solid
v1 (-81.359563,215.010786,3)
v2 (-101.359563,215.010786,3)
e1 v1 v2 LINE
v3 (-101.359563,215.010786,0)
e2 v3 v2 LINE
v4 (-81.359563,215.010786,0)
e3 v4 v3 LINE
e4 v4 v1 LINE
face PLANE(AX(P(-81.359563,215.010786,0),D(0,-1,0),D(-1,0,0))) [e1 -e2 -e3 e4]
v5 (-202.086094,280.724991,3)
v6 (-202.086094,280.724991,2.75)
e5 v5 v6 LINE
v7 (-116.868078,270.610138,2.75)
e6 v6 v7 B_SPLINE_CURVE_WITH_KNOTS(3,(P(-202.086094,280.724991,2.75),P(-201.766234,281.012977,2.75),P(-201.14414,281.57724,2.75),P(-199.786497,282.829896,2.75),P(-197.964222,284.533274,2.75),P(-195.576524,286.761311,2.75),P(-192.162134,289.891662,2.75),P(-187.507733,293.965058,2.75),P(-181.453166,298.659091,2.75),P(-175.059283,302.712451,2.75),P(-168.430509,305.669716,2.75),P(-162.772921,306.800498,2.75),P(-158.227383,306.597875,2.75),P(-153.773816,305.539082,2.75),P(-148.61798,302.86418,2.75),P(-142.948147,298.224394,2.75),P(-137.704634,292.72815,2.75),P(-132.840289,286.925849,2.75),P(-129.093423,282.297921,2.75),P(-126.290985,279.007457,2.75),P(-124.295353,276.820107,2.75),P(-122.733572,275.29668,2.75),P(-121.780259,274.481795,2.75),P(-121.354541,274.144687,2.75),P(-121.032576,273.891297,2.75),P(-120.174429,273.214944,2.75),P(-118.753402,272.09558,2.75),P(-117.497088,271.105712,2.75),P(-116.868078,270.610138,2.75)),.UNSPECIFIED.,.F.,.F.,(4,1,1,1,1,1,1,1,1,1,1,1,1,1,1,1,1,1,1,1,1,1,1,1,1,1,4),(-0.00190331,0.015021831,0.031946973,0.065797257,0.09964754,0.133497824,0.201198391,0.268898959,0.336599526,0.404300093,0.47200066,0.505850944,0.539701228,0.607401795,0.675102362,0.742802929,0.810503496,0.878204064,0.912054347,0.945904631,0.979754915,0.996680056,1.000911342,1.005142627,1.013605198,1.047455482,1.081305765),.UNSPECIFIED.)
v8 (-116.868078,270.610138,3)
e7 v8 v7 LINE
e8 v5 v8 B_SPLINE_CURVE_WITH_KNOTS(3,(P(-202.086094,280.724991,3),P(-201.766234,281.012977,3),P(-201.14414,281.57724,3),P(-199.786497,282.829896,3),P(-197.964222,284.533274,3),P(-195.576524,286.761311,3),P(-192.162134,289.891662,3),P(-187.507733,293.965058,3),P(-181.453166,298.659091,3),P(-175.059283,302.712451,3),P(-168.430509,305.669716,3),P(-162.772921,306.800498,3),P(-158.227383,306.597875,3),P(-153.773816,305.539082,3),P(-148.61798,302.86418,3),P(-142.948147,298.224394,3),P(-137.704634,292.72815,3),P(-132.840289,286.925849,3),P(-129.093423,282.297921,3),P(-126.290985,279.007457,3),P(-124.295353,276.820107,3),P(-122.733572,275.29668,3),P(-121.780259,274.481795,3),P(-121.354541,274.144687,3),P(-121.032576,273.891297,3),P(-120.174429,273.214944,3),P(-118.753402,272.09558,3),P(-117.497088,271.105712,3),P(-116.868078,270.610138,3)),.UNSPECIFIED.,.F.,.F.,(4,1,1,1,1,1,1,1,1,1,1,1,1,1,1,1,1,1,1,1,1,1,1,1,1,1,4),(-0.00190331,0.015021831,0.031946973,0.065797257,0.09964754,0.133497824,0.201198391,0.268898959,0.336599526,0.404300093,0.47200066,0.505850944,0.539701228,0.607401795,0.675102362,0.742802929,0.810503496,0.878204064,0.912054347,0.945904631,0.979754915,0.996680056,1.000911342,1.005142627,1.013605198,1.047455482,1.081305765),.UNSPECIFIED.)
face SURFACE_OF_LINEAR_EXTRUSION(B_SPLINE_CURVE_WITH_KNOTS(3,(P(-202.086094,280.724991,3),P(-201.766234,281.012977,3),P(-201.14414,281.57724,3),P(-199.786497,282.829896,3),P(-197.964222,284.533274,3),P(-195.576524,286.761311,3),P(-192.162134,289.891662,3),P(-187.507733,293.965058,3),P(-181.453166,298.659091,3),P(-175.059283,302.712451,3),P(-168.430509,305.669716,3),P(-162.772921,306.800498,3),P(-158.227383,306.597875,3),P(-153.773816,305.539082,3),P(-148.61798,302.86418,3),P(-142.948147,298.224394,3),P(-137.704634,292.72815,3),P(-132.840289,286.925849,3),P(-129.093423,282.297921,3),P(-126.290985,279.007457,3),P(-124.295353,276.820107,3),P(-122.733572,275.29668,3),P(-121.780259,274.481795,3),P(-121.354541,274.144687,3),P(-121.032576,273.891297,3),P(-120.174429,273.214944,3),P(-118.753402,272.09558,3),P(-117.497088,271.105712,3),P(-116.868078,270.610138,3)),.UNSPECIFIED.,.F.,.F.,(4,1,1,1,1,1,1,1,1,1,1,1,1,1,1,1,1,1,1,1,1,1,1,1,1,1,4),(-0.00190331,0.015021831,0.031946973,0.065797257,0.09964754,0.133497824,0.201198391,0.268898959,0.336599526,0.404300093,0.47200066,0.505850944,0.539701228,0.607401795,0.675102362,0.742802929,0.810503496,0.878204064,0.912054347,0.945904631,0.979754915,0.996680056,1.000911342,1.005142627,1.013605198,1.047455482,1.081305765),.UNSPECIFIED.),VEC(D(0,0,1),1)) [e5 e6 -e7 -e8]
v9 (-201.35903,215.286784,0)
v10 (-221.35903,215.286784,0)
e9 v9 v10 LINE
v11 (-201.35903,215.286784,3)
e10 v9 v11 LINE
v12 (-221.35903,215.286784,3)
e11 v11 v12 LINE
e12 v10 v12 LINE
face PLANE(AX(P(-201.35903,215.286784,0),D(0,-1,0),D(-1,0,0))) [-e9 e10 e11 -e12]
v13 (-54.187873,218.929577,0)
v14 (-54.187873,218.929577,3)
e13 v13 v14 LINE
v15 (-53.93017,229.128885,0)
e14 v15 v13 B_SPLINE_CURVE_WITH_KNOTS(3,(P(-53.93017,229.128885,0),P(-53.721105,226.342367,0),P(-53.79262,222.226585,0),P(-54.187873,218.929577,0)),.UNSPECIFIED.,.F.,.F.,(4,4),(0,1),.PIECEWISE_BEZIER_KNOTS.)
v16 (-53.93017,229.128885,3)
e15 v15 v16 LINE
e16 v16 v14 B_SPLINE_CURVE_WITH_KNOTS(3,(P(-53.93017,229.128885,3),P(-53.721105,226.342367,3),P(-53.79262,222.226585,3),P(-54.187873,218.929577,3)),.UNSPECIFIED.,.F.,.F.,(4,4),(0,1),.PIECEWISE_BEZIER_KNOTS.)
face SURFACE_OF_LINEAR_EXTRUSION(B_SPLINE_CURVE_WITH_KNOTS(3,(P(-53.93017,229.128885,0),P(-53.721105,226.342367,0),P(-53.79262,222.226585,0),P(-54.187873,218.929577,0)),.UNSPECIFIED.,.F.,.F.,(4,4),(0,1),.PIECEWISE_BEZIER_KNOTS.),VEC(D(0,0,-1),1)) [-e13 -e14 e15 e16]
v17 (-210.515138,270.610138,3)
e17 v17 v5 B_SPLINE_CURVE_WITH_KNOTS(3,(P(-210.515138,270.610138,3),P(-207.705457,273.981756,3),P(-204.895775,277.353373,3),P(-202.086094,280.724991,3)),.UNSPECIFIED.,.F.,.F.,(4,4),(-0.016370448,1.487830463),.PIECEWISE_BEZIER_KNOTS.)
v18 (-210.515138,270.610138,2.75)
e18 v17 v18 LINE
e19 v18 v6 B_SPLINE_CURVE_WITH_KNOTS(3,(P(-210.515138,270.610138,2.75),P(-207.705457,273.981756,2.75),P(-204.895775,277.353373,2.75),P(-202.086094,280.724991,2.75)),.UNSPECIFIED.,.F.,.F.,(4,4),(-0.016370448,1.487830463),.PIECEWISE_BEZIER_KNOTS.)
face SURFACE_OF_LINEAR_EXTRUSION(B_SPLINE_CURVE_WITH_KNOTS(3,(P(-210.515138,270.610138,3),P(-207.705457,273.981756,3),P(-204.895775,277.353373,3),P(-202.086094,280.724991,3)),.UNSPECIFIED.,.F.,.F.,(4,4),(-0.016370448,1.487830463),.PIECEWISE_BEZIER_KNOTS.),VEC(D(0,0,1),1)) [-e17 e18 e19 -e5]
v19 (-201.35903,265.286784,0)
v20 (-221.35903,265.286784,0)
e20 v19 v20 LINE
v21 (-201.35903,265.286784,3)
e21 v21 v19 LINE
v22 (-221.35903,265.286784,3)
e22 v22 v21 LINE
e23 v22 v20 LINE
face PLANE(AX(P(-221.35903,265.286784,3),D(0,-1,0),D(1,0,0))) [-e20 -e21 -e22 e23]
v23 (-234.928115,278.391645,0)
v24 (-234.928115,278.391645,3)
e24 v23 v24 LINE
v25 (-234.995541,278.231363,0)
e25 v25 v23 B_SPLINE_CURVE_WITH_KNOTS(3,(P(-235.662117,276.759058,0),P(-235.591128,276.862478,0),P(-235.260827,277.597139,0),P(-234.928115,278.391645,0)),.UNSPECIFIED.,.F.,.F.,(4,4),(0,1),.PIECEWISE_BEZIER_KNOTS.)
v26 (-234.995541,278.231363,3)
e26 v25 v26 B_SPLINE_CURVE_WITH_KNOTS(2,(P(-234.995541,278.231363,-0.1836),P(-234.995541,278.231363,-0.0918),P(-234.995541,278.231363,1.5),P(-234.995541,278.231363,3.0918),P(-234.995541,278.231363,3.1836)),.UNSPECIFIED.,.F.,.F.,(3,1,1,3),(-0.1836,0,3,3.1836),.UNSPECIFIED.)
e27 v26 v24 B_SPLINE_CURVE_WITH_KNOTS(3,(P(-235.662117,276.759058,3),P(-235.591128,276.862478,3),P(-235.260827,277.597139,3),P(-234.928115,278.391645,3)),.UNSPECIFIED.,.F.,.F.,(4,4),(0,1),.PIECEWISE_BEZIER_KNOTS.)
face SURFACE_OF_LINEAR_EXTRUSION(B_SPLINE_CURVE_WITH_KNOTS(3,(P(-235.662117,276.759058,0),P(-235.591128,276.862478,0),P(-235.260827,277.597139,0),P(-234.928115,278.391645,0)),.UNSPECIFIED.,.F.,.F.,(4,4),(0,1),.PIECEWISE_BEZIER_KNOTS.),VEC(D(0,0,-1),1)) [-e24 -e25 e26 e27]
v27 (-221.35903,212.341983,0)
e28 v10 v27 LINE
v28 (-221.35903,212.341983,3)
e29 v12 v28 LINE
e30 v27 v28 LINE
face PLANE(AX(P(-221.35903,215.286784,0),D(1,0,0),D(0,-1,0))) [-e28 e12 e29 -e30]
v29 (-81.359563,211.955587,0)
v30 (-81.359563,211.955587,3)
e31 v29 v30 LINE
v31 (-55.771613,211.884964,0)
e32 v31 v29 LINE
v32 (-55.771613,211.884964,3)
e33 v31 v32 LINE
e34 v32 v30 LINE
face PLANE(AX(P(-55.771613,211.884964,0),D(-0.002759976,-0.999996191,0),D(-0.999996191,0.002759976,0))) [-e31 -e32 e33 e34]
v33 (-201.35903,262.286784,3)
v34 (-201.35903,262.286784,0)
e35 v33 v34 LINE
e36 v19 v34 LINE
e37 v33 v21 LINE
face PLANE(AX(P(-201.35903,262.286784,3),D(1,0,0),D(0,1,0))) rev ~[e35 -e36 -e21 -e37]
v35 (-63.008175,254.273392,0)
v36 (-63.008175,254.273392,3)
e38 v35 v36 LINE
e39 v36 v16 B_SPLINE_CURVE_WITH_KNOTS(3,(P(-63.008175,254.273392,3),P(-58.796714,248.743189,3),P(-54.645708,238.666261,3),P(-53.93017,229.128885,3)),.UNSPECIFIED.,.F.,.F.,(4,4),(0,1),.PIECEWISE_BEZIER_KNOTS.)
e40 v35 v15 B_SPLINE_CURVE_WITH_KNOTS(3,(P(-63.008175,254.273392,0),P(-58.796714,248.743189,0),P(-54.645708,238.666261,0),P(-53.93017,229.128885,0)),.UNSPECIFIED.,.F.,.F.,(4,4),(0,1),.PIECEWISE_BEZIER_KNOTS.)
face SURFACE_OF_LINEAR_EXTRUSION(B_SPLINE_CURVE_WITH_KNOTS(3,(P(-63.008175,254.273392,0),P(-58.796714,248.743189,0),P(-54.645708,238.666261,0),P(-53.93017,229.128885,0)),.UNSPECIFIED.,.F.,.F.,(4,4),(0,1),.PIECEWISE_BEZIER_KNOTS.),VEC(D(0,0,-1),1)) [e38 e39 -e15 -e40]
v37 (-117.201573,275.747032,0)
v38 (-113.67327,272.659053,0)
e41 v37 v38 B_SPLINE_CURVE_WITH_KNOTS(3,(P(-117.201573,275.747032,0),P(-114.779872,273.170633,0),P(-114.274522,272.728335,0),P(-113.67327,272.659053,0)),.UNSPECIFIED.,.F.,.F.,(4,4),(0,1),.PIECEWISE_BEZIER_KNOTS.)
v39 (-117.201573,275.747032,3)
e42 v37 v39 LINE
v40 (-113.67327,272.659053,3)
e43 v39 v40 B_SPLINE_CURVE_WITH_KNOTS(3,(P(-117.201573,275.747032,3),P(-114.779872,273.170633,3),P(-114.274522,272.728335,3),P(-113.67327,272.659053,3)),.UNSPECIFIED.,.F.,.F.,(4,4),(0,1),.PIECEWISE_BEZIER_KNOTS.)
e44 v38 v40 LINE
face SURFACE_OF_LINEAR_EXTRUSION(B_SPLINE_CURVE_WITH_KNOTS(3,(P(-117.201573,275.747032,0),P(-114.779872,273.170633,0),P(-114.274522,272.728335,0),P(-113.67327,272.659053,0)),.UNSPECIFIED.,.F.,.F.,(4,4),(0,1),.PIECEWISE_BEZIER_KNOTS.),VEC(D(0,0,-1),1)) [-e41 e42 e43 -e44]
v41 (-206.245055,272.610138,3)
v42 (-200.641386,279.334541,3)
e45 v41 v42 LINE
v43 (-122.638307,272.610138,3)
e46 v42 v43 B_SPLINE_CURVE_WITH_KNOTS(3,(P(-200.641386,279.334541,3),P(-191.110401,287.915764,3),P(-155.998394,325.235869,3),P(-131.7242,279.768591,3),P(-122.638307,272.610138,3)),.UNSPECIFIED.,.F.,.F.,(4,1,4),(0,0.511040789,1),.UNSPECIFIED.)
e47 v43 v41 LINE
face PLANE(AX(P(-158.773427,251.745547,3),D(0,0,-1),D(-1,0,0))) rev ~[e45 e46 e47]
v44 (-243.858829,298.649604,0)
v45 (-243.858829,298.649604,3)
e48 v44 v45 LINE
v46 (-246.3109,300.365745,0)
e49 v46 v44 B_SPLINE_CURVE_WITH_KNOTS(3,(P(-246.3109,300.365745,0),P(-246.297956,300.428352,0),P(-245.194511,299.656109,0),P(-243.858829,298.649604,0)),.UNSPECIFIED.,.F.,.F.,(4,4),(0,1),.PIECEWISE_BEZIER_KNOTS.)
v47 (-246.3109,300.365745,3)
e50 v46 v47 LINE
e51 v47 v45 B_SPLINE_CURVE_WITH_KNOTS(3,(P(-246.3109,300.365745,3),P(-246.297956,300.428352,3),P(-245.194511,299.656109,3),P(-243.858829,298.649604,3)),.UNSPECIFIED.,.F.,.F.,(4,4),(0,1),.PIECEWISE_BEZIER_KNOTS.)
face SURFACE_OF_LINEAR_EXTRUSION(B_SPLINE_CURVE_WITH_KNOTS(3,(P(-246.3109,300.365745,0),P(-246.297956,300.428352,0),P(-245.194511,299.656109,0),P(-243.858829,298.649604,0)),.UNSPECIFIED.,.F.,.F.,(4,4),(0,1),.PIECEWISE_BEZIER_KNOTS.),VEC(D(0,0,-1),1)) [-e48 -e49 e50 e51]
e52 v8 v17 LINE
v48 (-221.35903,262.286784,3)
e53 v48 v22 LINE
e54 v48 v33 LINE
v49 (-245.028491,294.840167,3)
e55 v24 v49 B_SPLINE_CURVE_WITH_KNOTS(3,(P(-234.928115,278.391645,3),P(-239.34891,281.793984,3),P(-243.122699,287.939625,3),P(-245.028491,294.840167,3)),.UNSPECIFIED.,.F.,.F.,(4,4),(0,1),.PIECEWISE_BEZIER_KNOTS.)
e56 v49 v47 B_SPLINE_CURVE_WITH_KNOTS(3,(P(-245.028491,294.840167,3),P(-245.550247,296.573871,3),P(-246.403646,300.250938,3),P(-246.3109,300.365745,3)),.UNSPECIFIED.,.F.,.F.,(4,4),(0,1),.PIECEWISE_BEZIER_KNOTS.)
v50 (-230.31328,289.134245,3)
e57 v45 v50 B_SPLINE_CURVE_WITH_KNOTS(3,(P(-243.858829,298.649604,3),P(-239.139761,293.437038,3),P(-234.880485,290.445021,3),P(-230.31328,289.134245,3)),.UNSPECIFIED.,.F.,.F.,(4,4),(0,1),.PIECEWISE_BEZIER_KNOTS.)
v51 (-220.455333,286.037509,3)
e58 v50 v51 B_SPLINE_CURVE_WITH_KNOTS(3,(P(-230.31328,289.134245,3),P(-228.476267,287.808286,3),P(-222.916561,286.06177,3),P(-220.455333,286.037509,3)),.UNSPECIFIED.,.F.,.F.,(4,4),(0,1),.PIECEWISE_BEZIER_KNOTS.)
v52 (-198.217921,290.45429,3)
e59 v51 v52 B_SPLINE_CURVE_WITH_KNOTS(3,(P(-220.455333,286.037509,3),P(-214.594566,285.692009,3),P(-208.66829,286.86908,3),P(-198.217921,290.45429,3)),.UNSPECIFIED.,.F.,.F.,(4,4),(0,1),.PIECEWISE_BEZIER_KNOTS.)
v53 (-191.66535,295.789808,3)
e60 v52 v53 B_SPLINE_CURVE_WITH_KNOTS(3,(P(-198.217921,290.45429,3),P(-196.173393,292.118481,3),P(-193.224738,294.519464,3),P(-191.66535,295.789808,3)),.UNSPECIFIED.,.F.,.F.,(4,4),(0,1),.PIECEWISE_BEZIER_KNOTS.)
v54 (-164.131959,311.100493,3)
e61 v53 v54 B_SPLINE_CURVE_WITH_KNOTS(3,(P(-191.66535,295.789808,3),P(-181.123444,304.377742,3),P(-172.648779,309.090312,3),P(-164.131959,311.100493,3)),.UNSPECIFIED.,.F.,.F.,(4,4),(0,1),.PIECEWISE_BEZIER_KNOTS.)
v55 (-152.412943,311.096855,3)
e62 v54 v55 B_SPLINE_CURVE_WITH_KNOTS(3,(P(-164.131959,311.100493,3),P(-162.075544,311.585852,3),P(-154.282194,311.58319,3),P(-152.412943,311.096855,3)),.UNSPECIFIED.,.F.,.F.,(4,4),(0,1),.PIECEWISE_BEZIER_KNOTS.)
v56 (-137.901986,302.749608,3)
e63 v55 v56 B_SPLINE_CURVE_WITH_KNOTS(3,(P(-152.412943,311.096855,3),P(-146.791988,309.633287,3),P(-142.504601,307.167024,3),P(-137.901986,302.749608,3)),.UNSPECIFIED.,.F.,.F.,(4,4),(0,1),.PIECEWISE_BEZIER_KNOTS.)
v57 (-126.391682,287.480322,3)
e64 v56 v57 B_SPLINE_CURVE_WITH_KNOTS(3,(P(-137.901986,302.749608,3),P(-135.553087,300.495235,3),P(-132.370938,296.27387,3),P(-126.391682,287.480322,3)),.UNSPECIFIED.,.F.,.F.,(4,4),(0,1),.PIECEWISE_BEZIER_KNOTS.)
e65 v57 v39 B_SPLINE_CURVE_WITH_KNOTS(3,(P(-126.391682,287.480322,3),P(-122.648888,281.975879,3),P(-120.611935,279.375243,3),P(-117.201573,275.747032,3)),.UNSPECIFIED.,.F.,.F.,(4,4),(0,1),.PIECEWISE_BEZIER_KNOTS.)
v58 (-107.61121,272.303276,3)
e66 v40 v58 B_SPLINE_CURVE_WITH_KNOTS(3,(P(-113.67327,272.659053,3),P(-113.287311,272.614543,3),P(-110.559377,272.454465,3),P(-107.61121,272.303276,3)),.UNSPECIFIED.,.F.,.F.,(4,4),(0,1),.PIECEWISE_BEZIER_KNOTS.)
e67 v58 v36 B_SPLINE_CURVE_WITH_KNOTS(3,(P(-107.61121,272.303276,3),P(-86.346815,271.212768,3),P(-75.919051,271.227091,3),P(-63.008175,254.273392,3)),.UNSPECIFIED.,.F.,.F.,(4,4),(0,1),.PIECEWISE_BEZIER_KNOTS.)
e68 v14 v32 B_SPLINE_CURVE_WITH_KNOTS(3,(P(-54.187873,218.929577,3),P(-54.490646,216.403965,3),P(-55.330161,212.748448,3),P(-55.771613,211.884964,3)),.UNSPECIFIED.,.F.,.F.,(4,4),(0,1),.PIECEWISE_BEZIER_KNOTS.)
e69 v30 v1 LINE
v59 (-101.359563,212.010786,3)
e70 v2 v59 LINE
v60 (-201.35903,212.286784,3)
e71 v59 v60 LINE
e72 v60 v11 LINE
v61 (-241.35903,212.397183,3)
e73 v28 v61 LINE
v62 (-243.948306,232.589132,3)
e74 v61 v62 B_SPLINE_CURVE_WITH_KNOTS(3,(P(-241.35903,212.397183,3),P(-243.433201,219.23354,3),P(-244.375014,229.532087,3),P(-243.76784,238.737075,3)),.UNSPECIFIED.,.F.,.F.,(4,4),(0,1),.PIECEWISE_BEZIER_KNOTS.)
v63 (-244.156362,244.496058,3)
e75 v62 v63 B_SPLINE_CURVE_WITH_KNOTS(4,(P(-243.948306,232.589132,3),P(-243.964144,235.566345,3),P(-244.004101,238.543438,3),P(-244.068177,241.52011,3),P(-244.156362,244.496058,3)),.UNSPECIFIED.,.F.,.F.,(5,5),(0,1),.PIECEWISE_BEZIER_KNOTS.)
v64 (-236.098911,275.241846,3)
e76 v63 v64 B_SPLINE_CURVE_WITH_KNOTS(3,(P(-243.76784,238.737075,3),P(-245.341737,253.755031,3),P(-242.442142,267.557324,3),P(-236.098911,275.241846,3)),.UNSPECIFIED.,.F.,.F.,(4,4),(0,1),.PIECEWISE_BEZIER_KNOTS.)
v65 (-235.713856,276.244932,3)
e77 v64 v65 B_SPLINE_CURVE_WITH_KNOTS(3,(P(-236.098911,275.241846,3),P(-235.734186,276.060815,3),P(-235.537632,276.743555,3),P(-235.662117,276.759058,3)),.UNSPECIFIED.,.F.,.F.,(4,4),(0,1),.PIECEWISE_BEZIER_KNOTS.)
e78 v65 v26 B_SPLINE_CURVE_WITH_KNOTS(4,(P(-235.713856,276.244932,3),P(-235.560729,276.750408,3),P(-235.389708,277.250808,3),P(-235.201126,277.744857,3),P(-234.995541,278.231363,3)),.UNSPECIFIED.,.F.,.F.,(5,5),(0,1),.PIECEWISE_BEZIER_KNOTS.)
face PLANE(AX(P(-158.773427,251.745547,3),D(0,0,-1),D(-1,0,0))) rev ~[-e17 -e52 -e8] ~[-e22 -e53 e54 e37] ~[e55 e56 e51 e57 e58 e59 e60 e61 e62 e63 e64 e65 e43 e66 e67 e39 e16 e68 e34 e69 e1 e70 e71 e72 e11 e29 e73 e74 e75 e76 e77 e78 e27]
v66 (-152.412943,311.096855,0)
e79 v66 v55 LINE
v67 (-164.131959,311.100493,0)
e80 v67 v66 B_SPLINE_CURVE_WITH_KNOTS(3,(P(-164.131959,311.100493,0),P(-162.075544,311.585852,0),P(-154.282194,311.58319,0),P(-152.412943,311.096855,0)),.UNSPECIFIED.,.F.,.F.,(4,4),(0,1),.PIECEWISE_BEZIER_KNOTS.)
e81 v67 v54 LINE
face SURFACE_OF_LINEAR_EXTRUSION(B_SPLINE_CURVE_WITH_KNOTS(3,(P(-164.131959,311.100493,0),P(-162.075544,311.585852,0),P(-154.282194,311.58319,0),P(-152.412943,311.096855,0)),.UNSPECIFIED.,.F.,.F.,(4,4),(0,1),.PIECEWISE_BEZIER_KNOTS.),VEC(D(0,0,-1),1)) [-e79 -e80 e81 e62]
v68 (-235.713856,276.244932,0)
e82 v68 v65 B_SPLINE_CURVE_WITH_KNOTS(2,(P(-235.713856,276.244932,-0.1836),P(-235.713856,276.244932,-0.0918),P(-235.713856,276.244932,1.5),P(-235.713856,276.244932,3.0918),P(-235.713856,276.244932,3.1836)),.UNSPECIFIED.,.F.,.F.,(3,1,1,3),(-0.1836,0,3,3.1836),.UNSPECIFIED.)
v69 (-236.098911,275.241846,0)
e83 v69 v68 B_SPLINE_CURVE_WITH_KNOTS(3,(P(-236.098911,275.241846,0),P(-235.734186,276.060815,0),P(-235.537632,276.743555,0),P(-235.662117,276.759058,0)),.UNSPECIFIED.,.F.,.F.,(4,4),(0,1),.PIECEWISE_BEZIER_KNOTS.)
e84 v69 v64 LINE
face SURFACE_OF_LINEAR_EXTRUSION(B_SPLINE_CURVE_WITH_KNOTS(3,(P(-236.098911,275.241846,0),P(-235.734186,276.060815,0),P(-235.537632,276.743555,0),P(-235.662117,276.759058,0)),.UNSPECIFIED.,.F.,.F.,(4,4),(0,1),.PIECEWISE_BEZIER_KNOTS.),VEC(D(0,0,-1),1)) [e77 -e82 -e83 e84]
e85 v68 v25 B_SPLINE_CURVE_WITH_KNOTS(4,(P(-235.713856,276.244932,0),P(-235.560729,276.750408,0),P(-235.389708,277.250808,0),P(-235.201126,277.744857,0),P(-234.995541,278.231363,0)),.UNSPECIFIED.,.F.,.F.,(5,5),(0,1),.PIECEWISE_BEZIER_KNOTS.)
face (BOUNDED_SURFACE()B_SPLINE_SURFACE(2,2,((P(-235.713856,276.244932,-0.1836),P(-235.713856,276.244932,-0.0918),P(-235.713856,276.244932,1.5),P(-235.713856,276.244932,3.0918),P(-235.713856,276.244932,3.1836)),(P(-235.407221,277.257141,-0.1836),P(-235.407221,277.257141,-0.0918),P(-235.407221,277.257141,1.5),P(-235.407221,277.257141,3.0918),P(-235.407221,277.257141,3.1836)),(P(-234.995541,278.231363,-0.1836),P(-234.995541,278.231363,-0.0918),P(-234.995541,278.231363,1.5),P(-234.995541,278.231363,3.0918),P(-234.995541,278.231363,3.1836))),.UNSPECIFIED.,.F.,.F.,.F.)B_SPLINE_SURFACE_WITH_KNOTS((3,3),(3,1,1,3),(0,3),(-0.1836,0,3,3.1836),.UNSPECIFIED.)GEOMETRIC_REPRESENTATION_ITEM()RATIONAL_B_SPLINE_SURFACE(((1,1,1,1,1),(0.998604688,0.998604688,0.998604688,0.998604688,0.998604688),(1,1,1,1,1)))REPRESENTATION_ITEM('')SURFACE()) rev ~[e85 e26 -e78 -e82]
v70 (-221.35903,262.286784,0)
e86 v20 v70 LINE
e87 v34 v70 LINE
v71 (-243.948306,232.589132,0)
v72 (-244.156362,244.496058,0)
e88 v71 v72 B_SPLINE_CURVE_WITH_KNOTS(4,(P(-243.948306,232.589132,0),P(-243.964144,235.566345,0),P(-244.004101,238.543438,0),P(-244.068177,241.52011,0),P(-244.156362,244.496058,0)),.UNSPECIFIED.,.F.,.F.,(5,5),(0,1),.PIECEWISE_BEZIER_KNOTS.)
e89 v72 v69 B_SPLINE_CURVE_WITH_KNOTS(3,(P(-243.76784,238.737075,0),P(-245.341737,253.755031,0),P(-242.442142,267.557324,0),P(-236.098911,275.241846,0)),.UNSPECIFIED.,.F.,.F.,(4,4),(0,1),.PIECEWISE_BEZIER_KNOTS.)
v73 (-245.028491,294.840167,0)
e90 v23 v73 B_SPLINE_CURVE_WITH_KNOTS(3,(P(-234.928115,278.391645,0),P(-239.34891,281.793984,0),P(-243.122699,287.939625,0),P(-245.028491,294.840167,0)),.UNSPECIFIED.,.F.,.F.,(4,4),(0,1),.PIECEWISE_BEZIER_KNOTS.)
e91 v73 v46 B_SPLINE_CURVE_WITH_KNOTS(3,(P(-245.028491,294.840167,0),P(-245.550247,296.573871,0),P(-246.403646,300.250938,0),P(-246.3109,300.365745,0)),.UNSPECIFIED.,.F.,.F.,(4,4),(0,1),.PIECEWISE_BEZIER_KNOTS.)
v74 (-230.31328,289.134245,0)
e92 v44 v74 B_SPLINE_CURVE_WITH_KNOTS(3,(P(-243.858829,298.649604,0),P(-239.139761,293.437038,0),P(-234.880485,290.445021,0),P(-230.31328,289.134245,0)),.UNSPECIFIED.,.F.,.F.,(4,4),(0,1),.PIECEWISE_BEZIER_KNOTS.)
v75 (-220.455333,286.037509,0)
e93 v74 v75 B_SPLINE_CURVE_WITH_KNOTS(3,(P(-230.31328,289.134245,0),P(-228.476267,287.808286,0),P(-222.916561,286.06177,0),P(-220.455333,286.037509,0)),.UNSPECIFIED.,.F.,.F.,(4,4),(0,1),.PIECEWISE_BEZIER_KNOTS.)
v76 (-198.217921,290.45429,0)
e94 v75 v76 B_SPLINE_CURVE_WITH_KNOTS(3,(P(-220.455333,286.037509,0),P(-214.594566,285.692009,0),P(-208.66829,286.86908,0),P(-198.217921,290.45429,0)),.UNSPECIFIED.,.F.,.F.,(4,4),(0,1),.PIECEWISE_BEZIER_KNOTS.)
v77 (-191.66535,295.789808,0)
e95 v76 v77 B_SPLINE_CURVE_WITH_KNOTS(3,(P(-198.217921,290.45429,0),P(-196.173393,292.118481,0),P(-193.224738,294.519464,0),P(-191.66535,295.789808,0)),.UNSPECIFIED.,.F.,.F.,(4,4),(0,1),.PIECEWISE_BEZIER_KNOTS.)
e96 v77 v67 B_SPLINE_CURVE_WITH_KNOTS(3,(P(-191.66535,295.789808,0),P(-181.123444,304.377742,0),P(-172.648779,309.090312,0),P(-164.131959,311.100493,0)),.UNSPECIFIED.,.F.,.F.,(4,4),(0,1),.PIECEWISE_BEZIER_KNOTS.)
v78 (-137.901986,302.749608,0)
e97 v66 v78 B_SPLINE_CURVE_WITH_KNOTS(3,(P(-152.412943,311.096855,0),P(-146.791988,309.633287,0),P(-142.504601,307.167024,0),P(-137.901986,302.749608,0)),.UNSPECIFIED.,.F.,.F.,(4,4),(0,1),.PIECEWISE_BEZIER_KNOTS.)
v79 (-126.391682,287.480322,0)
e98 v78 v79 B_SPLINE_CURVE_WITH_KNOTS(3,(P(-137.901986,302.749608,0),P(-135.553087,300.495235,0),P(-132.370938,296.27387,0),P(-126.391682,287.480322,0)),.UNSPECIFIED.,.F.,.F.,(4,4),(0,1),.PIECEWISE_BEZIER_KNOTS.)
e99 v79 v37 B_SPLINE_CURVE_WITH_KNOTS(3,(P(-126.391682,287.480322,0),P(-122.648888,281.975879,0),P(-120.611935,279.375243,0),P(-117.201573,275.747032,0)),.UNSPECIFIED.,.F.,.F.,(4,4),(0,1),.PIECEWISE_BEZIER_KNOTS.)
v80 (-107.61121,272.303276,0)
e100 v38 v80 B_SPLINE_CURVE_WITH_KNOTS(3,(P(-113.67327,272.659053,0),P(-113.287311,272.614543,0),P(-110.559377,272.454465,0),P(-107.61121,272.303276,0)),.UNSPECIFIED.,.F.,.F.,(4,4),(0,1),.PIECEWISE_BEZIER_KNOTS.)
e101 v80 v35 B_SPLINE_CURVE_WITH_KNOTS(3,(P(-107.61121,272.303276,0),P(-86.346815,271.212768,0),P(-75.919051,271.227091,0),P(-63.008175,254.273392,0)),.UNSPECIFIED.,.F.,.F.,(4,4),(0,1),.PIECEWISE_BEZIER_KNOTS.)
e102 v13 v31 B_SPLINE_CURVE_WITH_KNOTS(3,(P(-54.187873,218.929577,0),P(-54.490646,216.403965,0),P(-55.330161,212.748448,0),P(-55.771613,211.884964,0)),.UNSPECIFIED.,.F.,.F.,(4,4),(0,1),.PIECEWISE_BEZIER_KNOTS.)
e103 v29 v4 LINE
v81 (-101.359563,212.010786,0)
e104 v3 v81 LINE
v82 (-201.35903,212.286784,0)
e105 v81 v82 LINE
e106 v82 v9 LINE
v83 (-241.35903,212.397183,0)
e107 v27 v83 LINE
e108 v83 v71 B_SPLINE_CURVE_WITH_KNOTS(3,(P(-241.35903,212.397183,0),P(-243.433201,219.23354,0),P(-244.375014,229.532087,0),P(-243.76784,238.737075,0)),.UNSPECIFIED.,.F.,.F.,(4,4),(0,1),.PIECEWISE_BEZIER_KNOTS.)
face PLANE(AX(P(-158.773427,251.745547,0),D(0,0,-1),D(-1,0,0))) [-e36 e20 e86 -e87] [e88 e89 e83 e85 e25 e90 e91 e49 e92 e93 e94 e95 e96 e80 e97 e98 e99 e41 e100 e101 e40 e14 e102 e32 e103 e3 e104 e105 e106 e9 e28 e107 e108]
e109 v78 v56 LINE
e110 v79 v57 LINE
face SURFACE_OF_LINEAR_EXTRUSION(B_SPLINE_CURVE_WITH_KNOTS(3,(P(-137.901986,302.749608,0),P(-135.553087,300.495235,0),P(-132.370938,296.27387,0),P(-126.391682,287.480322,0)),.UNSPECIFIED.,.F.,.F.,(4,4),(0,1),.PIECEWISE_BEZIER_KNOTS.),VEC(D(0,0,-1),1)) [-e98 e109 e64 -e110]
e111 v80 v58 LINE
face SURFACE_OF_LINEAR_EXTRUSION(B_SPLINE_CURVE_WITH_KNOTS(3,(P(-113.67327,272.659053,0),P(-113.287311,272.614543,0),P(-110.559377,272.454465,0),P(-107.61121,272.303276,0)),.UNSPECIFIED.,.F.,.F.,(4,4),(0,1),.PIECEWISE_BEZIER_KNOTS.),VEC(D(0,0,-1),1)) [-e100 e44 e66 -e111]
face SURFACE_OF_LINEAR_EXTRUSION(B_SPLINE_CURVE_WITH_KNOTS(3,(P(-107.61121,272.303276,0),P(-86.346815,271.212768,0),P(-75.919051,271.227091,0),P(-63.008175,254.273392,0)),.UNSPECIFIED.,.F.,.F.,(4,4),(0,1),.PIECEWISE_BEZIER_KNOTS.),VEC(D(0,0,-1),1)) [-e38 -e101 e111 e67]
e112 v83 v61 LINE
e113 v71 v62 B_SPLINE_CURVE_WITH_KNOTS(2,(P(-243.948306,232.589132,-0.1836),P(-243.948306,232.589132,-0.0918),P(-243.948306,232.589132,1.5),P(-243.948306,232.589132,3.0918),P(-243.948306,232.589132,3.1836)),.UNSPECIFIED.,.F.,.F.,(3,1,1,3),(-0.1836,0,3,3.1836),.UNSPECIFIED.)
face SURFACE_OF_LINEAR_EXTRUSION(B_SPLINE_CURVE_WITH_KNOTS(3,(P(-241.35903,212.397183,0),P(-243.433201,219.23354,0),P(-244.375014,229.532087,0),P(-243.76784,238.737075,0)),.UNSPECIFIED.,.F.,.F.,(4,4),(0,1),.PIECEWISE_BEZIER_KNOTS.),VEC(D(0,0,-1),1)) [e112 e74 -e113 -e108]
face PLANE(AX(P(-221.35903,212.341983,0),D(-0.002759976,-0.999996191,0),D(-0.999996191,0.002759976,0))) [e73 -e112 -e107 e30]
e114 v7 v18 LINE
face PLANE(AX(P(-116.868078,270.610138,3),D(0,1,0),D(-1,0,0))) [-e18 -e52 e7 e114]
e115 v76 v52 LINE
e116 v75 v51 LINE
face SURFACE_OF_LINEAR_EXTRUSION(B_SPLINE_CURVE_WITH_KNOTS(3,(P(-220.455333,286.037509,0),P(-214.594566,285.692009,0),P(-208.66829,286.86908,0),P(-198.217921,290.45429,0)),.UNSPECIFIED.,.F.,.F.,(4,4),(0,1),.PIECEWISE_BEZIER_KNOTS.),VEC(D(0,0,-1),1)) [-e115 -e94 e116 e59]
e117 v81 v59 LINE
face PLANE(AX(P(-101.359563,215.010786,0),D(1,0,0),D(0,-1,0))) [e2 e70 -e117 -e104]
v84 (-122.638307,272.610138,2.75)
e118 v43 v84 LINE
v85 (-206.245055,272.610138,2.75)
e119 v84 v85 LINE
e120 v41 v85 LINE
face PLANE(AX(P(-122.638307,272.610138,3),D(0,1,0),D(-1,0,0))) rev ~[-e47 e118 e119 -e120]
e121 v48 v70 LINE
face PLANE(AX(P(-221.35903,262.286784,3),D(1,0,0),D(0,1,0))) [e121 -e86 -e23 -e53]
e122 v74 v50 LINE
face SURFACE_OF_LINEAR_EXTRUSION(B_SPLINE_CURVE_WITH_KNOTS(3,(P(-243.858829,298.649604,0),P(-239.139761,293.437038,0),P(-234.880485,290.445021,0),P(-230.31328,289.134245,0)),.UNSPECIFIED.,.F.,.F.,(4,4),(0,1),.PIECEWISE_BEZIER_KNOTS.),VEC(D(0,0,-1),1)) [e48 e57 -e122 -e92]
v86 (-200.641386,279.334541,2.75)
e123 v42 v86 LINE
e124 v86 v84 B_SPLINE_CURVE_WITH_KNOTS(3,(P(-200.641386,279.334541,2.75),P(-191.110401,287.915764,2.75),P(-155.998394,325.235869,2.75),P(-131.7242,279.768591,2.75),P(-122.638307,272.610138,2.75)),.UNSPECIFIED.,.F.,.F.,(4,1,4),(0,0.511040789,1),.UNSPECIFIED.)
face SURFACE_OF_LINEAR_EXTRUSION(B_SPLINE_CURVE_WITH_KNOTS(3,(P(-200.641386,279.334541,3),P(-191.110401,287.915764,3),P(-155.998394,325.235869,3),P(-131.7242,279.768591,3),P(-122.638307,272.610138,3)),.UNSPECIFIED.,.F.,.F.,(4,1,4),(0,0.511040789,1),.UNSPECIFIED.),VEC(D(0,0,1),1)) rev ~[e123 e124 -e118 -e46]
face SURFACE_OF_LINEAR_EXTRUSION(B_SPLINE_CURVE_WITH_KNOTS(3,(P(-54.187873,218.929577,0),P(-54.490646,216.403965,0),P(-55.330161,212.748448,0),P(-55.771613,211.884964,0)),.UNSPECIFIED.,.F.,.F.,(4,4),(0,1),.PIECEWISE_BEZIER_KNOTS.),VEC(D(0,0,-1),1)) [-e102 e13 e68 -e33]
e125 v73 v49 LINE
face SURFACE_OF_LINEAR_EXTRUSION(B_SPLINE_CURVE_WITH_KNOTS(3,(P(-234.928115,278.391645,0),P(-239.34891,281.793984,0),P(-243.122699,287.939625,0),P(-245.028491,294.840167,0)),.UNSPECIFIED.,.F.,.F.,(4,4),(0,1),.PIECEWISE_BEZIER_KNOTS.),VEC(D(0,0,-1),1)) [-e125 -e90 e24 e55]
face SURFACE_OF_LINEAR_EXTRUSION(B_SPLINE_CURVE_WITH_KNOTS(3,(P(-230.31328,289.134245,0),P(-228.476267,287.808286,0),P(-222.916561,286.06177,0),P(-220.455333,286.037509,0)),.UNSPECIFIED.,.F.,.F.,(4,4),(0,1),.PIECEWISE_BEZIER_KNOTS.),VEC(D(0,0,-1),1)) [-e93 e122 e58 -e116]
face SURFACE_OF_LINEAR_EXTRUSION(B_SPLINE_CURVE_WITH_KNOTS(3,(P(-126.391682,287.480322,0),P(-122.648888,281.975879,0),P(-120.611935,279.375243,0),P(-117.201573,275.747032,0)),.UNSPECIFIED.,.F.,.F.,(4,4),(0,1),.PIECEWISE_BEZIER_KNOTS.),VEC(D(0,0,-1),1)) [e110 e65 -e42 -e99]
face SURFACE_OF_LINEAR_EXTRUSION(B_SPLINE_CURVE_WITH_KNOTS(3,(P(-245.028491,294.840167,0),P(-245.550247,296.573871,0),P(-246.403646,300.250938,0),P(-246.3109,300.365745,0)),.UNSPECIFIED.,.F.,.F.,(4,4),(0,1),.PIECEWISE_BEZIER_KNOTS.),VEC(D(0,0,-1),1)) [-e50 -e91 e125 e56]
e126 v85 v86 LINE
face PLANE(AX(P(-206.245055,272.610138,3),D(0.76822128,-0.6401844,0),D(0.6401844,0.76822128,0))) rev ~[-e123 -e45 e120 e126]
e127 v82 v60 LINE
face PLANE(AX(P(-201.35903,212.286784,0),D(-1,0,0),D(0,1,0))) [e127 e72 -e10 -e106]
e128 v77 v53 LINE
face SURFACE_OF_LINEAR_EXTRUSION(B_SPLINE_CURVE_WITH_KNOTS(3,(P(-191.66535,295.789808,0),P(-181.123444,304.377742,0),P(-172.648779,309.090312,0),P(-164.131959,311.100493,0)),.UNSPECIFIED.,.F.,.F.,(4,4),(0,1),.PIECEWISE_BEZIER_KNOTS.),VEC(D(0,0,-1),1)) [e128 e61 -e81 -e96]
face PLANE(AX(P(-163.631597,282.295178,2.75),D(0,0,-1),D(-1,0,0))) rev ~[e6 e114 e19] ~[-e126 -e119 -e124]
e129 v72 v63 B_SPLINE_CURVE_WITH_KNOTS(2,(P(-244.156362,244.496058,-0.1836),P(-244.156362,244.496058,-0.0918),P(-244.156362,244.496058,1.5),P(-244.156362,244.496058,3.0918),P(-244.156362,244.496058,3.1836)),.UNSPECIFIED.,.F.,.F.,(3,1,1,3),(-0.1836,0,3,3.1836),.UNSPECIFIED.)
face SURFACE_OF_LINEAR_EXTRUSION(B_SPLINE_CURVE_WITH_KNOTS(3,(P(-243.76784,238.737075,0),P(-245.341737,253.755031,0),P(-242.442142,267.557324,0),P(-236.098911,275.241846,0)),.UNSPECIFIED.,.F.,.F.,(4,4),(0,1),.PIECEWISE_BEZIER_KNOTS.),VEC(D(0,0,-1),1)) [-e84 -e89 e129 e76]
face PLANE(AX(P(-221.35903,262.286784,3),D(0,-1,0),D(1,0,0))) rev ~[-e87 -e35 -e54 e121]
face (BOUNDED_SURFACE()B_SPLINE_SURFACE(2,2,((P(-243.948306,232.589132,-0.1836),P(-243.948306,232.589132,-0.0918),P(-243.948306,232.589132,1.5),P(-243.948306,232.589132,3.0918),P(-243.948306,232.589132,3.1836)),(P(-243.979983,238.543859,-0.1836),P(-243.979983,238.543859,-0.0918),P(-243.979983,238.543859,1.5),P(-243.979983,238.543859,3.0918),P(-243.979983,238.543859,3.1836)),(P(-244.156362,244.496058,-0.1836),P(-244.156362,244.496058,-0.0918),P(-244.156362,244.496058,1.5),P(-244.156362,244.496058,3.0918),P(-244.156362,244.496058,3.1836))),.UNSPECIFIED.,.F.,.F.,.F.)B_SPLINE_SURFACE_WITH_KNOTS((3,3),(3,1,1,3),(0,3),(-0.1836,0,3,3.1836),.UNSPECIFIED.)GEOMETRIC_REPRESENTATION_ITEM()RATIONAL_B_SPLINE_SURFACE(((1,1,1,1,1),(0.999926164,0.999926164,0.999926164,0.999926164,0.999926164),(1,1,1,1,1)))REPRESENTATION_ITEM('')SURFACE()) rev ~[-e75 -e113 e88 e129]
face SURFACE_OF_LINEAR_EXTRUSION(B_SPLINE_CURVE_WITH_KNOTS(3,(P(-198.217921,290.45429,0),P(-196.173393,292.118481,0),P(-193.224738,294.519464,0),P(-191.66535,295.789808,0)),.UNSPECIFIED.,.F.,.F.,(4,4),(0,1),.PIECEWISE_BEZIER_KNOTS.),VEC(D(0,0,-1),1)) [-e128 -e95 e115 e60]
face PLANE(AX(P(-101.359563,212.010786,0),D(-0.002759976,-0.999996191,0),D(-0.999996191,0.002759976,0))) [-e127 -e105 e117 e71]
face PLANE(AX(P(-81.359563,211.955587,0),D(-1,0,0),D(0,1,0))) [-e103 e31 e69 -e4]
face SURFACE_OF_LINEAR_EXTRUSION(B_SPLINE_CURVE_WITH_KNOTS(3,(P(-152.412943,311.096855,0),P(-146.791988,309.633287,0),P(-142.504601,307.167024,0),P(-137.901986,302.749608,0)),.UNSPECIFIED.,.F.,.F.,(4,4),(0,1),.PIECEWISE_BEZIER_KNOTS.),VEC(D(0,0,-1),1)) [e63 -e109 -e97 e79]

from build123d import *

# Parameters (mm, degrees)
BOSS_EXTRUDE1_DEPTH = 3
SKETCH2_W           = 20
SKETCH2_H           = 3
CUT_EXTRUDE1_DEPTH  = 10
CUT_EXTRUDE2_DEPTH  = 0.25
FILLET1_R           = 490
FILLET3_R           = 20


with BuildPart() as part:
    # Sketch1 → Boss-Extrude1 (new body)
    with BuildSketch(Plane.XY):
        with BuildLine():
            Line((-55.771613477, 211.884964235), (-81.359563224, 211.955586631))
            Line((-81.359563224, 211.955586631), (-81.359563224, 215.010786361))
            Line((-81.359563224, 215.010786361), (-101.359563224, 215.010786361))
            Line((-101.359563224, 215.010786361), (-101.359563224, 212.010786361))
            Line((-101.359563224, 212.010786361), (-201.35903, 212.28678354))
            Line((-201.35903, 212.28678354), (-201.35903, 215.28678354))
            Line((-201.35903, 215.28678354), (-221.35903, 215.28678354))
            Line((-221.35903, 215.28678354), (-221.35903, 212.34198327))
            Line((-221.35903, 212.34198327), (-241.35903, 212.397183))
            add(Edge.make_bspline(
                [(-241.35903, 212.397183), (-243.433200806, 219.233539852), (-244.37501358, 229.532087014), (-243.767840249, 238.737074774)],
                knots=[0, 0, 0, 0, 1, 1, 1, 1], degree=3))
            add(Edge.make_bspline(
                [(-243.767840249, 238.737074774), (-245.3417367, 253.755030644), (-242.442141826, 267.557324246), (-236.098911434, 275.241845869)],
                knots=[0, 0, 0, 0, 1, 1, 1, 1], degree=3))
            add(Edge.make_bspline(
                [(-236.098911434, 275.241845869), (-235.734186419, 276.060814752), (-235.537632123, 276.743555368), (-235.662116873, 276.759057769)],
                knots=[0, 0, 0, 0, 1, 1, 1, 1], degree=3))
            add(Edge.make_bspline(
                [(-235.662116873, 276.759057769), (-235.591127974, 276.862477635), (-235.260826653, 277.597138511), (-234.928115217, 278.391644727)],
                knots=[0, 0, 0, 0, 1, 1, 1, 1], degree=3))
            add(Edge.make_bspline(
                [(-234.928115217, 278.391644727), (-239.348910331, 281.793983673), (-243.122699165, 287.939625439), (-245.028490728, 294.840167335)],
                knots=[0, 0, 0, 0, 1, 1, 1, 1], degree=3))
            add(Edge.make_bspline(
                [(-245.028490728, 294.840167335), (-245.550247129, 296.573870804), (-246.403646496, 300.250938453), (-246.310899804, 300.365745035)],
                knots=[0, 0, 0, 0, 1, 1, 1, 1], degree=3))
            add(Edge.make_bspline(
                [(-246.310899804, 300.365745035), (-246.297955678, 300.428351845), (-245.194510621, 299.656108866), (-243.858829054, 298.649604138)],
                knots=[0, 0, 0, 0, 1, 1, 1, 1], degree=3))
            add(Edge.make_bspline(
                [(-243.858829054, 298.649604138), (-239.139760648, 293.437037617), (-234.88048493, 290.445021181), (-230.313280496, 289.134244505)],
                knots=[0, 0, 0, 0, 1, 1, 1, 1], degree=3))
            add(Edge.make_bspline(
                [(-230.313280496, 289.134244505), (-228.476266882, 287.808285747), (-222.916561014, 286.061770109), (-220.455333428, 286.037508782)],
                knots=[0, 0, 0, 0, 1, 1, 1, 1], degree=3))
            add(Edge.make_bspline(
                [(-220.455333428, 286.037508782), (-214.594566251, 285.692008955), (-208.668289514, 286.869079887), (-198.217921477, 290.454290235)],
                knots=[0, 0, 0, 0, 1, 1, 1, 1], degree=3))
            add(Edge.make_bspline(
                [(-198.217921477, 290.454290235), (-196.173393477, 292.118481235), (-193.224738477, 294.519464235), (-191.665350477, 295.789808235)],
                knots=[0, 0, 0, 0, 1, 1, 1, 1], degree=3))
            add(Edge.make_bspline(
                [(-191.665350477, 295.789808235), (-181.123444477, 304.377742235), (-172.648779477, 309.090312235), (-164.131959477, 311.100493235)],
                knots=[0, 0, 0, 0, 1, 1, 1, 1], degree=3))
            add(Edge.make_bspline(
                [(-164.131959477, 311.100493235), (-162.075544477, 311.585852235), (-154.282194477, 311.583190235), (-152.412943477, 311.096855235)],
                knots=[0, 0, 0, 0, 1, 1, 1, 1], degree=3))
            add(Edge.make_bspline(
                [(-152.412943477, 311.096855235), (-146.791988477, 309.633287235), (-142.504601477, 307.167024235), (-137.901986477, 302.749608235)],
                knots=[0, 0, 0, 0, 1, 1, 1, 1], degree=3))
            add(Edge.make_bspline(
                [(-137.901986477, 302.749608235), (-135.553087477, 300.495235235), (-132.370938477, 296.273870235), (-126.391682477, 287.480322235)],
                knots=[0, 0, 0, 0, 1, 1, 1, 1], degree=3))
            add(Edge.make_bspline(
                [(-126.391682477, 287.480322235), (-122.648888477, 281.975879235), (-120.611935477, 279.375243235), (-117.201573477, 275.747032235)],
                knots=[0, 0, 0, 0, 1, 1, 1, 1], degree=3))
            add(Edge.make_bspline(
                [(-117.201573477, 275.747032235), (-114.779872477, 273.170633235), (-114.274522477, 272.728335235), (-113.673270477, 272.659053235)],
                knots=[0, 0, 0, 0, 1, 1, 1, 1], degree=3))
            add(Edge.make_bspline(
                [(-113.673270477, 272.659053235), (-113.287311477, 272.614543235), (-110.559377477, 272.454465235), (-107.611210477, 272.303276235)],
                knots=[0, 0, 0, 0, 1, 1, 1, 1], degree=3))
            add(Edge.make_bspline(
                [(-107.611210477, 272.303276235), (-86.346815477, 271.212768235), (-75.919051477, 271.227091235), (-63.008175477, 254.273392235)],
                knots=[0, 0, 0, 0, 1, 1, 1, 1], degree=3))
            add(Edge.make_bspline(
                [(-63.008175477, 254.273392235), (-58.796714477, 248.743189235), (-54.645708477, 238.666261235), (-53.930170477, 229.128885235)],
                knots=[0, 0, 0, 0, 1, 1, 1, 1], degree=3))
            add(Edge.make_bspline(
                [(-53.930170477, 229.128885235), (-53.721105477, 226.342367235), (-53.792620477, 222.226585235), (-54.187873477, 218.929577235)],
                knots=[0, 0, 0, 0, 1, 1, 1, 1], degree=3))
            add(Edge.make_bspline(
                [(-54.187873477, 218.929577235), (-54.490646477, 216.403965235), (-55.330161477, 212.748448235), (-55.771613477, 211.884964235)],
                knots=[0, 0, 0, 0, 1, 1, 1, 1], degree=3))
        make_face()
    extrude(amount=BOSS_EXTRUDE1_DEPTH)

    # Sketch2 → Cut-Extrude1 (cut)
    with BuildSketch(Plane.XY.offset(3)):
        with Locations((-211.35903, 263.78678354)):
            Rectangle(SKETCH2_W, SKETCH2_H)
    extrude(amount=-CUT_EXTRUDE1_DEPTH, mode=Mode.SUBTRACT)

    # Sketch3 → Cut-Extrude2 (cut)
    with BuildSketch(Plane.XY.offset(3)):
        with BuildLine():
            Line((-116.868078285, 270.610137644), (-210.515138227, 270.610137644))
            add(Edge.make_bspline(
                [(-210.515138227, 270.610137644), (-207.70545666, 273.981755523), (-204.895775094, 277.353373403), (-202.086093528, 280.724991282)],
                knots=[-0.016370448, -0.016370448, -0.016370448, -0.016370448, 1.487830463, 1.487830463, 1.487830463, 1.487830463], degree=3))
            add(Edge.make_bspline(
                [(-202.086093528, 280.724991282), (-201.766234136, 281.012976719), (-201.144139601, 281.577239578), (-199.786496921, 282.829895906), (-197.964221503, 284.533273518), (-195.576523782, 286.761310892), (-192.162134227, 289.891662395), (-187.50773268, 293.965058043), (-181.45316595, 298.659090822), (-175.059283421, 302.712451052), (-168.430508839, 305.669716279), (-162.772920874, 306.800498019), (-158.227383425, 306.597875257), (-153.773816434, 305.539082012), (-148.617979666, 302.864179961), (-142.948146748, 298.224394235), (-137.704633986, 292.728150104), (-132.840288674, 286.925849289), (-129.093423169, 282.29792081), (-126.29098522, 279.00745692), (-124.295352757, 276.820107186), (-122.733571759, 275.296680217), (-121.780259282, 274.481794778), (-121.354541261, 274.144686547), (-121.032576368, 273.89129731), (-120.174428775, 273.21494435), (-118.753402125, 272.095580379), (-117.497087951, 271.105712044), (-116.868078285, 270.610137644)],
                knots=[-0.00190331, -0.00190331, -0.00190331, -0.00190331, 0.015021831, 0.031946973, 0.065797257, 0.09964754, 0.133497824, 0.201198391, 0.268898959, 0.336599526, 0.404300093, 0.47200066, 0.505850944, 0.539701228, 0.607401795, 0.675102362, 0.742802929, 0.810503496, 0.878204064, 0.912054347, 0.945904631, 0.979754915, 0.996680056, 1.000911342, 1.005142627, 1.013605198, 1.047455482, 1.081305765, 1.081305765, 1.081305765, 1.081305765], degree=3))
        make_face()
        with BuildLine():
            Line((-122.638306737, 272.610137644), (-206.245055001, 272.610137644))
            Line((-206.245055001, 272.610137644), (-200.641385547, 279.33454099))
            add(Edge.make_bspline(
                [(-200.641385547, 279.33454099), (-191.110400539, 287.915764347), (-155.998393866, 325.235868613), (-131.724200162, 279.768590736), (-122.638306737, 272.610137644)],
                knots=[0, 0, 0, 0, 0.511040789, 1, 1, 1, 1], degree=3))
        make_face(mode=Mode.SUBTRACT)
    extrude(amount=-CUT_EXTRUDE2_DEPTH, mode=Mode.SUBTRACT)

    # Fillet1
    fillet1_edges = [part.edges().sort_by_distance(p)[0] for p in [
        (-243.767840249, 238.737074774, 1.5),
    ]]
    fillet(fillet1_edges, radius=FILLET1_R)

    # Fillet3
    fillet3_edges = [part.edges().sort_by_distance(p)[0] for p in [
        (-235.662116873, 276.759057769, 1.5),
    ]]
    fillet(fillet3_edges, radius=FILLET3_R)


solid = part.part
